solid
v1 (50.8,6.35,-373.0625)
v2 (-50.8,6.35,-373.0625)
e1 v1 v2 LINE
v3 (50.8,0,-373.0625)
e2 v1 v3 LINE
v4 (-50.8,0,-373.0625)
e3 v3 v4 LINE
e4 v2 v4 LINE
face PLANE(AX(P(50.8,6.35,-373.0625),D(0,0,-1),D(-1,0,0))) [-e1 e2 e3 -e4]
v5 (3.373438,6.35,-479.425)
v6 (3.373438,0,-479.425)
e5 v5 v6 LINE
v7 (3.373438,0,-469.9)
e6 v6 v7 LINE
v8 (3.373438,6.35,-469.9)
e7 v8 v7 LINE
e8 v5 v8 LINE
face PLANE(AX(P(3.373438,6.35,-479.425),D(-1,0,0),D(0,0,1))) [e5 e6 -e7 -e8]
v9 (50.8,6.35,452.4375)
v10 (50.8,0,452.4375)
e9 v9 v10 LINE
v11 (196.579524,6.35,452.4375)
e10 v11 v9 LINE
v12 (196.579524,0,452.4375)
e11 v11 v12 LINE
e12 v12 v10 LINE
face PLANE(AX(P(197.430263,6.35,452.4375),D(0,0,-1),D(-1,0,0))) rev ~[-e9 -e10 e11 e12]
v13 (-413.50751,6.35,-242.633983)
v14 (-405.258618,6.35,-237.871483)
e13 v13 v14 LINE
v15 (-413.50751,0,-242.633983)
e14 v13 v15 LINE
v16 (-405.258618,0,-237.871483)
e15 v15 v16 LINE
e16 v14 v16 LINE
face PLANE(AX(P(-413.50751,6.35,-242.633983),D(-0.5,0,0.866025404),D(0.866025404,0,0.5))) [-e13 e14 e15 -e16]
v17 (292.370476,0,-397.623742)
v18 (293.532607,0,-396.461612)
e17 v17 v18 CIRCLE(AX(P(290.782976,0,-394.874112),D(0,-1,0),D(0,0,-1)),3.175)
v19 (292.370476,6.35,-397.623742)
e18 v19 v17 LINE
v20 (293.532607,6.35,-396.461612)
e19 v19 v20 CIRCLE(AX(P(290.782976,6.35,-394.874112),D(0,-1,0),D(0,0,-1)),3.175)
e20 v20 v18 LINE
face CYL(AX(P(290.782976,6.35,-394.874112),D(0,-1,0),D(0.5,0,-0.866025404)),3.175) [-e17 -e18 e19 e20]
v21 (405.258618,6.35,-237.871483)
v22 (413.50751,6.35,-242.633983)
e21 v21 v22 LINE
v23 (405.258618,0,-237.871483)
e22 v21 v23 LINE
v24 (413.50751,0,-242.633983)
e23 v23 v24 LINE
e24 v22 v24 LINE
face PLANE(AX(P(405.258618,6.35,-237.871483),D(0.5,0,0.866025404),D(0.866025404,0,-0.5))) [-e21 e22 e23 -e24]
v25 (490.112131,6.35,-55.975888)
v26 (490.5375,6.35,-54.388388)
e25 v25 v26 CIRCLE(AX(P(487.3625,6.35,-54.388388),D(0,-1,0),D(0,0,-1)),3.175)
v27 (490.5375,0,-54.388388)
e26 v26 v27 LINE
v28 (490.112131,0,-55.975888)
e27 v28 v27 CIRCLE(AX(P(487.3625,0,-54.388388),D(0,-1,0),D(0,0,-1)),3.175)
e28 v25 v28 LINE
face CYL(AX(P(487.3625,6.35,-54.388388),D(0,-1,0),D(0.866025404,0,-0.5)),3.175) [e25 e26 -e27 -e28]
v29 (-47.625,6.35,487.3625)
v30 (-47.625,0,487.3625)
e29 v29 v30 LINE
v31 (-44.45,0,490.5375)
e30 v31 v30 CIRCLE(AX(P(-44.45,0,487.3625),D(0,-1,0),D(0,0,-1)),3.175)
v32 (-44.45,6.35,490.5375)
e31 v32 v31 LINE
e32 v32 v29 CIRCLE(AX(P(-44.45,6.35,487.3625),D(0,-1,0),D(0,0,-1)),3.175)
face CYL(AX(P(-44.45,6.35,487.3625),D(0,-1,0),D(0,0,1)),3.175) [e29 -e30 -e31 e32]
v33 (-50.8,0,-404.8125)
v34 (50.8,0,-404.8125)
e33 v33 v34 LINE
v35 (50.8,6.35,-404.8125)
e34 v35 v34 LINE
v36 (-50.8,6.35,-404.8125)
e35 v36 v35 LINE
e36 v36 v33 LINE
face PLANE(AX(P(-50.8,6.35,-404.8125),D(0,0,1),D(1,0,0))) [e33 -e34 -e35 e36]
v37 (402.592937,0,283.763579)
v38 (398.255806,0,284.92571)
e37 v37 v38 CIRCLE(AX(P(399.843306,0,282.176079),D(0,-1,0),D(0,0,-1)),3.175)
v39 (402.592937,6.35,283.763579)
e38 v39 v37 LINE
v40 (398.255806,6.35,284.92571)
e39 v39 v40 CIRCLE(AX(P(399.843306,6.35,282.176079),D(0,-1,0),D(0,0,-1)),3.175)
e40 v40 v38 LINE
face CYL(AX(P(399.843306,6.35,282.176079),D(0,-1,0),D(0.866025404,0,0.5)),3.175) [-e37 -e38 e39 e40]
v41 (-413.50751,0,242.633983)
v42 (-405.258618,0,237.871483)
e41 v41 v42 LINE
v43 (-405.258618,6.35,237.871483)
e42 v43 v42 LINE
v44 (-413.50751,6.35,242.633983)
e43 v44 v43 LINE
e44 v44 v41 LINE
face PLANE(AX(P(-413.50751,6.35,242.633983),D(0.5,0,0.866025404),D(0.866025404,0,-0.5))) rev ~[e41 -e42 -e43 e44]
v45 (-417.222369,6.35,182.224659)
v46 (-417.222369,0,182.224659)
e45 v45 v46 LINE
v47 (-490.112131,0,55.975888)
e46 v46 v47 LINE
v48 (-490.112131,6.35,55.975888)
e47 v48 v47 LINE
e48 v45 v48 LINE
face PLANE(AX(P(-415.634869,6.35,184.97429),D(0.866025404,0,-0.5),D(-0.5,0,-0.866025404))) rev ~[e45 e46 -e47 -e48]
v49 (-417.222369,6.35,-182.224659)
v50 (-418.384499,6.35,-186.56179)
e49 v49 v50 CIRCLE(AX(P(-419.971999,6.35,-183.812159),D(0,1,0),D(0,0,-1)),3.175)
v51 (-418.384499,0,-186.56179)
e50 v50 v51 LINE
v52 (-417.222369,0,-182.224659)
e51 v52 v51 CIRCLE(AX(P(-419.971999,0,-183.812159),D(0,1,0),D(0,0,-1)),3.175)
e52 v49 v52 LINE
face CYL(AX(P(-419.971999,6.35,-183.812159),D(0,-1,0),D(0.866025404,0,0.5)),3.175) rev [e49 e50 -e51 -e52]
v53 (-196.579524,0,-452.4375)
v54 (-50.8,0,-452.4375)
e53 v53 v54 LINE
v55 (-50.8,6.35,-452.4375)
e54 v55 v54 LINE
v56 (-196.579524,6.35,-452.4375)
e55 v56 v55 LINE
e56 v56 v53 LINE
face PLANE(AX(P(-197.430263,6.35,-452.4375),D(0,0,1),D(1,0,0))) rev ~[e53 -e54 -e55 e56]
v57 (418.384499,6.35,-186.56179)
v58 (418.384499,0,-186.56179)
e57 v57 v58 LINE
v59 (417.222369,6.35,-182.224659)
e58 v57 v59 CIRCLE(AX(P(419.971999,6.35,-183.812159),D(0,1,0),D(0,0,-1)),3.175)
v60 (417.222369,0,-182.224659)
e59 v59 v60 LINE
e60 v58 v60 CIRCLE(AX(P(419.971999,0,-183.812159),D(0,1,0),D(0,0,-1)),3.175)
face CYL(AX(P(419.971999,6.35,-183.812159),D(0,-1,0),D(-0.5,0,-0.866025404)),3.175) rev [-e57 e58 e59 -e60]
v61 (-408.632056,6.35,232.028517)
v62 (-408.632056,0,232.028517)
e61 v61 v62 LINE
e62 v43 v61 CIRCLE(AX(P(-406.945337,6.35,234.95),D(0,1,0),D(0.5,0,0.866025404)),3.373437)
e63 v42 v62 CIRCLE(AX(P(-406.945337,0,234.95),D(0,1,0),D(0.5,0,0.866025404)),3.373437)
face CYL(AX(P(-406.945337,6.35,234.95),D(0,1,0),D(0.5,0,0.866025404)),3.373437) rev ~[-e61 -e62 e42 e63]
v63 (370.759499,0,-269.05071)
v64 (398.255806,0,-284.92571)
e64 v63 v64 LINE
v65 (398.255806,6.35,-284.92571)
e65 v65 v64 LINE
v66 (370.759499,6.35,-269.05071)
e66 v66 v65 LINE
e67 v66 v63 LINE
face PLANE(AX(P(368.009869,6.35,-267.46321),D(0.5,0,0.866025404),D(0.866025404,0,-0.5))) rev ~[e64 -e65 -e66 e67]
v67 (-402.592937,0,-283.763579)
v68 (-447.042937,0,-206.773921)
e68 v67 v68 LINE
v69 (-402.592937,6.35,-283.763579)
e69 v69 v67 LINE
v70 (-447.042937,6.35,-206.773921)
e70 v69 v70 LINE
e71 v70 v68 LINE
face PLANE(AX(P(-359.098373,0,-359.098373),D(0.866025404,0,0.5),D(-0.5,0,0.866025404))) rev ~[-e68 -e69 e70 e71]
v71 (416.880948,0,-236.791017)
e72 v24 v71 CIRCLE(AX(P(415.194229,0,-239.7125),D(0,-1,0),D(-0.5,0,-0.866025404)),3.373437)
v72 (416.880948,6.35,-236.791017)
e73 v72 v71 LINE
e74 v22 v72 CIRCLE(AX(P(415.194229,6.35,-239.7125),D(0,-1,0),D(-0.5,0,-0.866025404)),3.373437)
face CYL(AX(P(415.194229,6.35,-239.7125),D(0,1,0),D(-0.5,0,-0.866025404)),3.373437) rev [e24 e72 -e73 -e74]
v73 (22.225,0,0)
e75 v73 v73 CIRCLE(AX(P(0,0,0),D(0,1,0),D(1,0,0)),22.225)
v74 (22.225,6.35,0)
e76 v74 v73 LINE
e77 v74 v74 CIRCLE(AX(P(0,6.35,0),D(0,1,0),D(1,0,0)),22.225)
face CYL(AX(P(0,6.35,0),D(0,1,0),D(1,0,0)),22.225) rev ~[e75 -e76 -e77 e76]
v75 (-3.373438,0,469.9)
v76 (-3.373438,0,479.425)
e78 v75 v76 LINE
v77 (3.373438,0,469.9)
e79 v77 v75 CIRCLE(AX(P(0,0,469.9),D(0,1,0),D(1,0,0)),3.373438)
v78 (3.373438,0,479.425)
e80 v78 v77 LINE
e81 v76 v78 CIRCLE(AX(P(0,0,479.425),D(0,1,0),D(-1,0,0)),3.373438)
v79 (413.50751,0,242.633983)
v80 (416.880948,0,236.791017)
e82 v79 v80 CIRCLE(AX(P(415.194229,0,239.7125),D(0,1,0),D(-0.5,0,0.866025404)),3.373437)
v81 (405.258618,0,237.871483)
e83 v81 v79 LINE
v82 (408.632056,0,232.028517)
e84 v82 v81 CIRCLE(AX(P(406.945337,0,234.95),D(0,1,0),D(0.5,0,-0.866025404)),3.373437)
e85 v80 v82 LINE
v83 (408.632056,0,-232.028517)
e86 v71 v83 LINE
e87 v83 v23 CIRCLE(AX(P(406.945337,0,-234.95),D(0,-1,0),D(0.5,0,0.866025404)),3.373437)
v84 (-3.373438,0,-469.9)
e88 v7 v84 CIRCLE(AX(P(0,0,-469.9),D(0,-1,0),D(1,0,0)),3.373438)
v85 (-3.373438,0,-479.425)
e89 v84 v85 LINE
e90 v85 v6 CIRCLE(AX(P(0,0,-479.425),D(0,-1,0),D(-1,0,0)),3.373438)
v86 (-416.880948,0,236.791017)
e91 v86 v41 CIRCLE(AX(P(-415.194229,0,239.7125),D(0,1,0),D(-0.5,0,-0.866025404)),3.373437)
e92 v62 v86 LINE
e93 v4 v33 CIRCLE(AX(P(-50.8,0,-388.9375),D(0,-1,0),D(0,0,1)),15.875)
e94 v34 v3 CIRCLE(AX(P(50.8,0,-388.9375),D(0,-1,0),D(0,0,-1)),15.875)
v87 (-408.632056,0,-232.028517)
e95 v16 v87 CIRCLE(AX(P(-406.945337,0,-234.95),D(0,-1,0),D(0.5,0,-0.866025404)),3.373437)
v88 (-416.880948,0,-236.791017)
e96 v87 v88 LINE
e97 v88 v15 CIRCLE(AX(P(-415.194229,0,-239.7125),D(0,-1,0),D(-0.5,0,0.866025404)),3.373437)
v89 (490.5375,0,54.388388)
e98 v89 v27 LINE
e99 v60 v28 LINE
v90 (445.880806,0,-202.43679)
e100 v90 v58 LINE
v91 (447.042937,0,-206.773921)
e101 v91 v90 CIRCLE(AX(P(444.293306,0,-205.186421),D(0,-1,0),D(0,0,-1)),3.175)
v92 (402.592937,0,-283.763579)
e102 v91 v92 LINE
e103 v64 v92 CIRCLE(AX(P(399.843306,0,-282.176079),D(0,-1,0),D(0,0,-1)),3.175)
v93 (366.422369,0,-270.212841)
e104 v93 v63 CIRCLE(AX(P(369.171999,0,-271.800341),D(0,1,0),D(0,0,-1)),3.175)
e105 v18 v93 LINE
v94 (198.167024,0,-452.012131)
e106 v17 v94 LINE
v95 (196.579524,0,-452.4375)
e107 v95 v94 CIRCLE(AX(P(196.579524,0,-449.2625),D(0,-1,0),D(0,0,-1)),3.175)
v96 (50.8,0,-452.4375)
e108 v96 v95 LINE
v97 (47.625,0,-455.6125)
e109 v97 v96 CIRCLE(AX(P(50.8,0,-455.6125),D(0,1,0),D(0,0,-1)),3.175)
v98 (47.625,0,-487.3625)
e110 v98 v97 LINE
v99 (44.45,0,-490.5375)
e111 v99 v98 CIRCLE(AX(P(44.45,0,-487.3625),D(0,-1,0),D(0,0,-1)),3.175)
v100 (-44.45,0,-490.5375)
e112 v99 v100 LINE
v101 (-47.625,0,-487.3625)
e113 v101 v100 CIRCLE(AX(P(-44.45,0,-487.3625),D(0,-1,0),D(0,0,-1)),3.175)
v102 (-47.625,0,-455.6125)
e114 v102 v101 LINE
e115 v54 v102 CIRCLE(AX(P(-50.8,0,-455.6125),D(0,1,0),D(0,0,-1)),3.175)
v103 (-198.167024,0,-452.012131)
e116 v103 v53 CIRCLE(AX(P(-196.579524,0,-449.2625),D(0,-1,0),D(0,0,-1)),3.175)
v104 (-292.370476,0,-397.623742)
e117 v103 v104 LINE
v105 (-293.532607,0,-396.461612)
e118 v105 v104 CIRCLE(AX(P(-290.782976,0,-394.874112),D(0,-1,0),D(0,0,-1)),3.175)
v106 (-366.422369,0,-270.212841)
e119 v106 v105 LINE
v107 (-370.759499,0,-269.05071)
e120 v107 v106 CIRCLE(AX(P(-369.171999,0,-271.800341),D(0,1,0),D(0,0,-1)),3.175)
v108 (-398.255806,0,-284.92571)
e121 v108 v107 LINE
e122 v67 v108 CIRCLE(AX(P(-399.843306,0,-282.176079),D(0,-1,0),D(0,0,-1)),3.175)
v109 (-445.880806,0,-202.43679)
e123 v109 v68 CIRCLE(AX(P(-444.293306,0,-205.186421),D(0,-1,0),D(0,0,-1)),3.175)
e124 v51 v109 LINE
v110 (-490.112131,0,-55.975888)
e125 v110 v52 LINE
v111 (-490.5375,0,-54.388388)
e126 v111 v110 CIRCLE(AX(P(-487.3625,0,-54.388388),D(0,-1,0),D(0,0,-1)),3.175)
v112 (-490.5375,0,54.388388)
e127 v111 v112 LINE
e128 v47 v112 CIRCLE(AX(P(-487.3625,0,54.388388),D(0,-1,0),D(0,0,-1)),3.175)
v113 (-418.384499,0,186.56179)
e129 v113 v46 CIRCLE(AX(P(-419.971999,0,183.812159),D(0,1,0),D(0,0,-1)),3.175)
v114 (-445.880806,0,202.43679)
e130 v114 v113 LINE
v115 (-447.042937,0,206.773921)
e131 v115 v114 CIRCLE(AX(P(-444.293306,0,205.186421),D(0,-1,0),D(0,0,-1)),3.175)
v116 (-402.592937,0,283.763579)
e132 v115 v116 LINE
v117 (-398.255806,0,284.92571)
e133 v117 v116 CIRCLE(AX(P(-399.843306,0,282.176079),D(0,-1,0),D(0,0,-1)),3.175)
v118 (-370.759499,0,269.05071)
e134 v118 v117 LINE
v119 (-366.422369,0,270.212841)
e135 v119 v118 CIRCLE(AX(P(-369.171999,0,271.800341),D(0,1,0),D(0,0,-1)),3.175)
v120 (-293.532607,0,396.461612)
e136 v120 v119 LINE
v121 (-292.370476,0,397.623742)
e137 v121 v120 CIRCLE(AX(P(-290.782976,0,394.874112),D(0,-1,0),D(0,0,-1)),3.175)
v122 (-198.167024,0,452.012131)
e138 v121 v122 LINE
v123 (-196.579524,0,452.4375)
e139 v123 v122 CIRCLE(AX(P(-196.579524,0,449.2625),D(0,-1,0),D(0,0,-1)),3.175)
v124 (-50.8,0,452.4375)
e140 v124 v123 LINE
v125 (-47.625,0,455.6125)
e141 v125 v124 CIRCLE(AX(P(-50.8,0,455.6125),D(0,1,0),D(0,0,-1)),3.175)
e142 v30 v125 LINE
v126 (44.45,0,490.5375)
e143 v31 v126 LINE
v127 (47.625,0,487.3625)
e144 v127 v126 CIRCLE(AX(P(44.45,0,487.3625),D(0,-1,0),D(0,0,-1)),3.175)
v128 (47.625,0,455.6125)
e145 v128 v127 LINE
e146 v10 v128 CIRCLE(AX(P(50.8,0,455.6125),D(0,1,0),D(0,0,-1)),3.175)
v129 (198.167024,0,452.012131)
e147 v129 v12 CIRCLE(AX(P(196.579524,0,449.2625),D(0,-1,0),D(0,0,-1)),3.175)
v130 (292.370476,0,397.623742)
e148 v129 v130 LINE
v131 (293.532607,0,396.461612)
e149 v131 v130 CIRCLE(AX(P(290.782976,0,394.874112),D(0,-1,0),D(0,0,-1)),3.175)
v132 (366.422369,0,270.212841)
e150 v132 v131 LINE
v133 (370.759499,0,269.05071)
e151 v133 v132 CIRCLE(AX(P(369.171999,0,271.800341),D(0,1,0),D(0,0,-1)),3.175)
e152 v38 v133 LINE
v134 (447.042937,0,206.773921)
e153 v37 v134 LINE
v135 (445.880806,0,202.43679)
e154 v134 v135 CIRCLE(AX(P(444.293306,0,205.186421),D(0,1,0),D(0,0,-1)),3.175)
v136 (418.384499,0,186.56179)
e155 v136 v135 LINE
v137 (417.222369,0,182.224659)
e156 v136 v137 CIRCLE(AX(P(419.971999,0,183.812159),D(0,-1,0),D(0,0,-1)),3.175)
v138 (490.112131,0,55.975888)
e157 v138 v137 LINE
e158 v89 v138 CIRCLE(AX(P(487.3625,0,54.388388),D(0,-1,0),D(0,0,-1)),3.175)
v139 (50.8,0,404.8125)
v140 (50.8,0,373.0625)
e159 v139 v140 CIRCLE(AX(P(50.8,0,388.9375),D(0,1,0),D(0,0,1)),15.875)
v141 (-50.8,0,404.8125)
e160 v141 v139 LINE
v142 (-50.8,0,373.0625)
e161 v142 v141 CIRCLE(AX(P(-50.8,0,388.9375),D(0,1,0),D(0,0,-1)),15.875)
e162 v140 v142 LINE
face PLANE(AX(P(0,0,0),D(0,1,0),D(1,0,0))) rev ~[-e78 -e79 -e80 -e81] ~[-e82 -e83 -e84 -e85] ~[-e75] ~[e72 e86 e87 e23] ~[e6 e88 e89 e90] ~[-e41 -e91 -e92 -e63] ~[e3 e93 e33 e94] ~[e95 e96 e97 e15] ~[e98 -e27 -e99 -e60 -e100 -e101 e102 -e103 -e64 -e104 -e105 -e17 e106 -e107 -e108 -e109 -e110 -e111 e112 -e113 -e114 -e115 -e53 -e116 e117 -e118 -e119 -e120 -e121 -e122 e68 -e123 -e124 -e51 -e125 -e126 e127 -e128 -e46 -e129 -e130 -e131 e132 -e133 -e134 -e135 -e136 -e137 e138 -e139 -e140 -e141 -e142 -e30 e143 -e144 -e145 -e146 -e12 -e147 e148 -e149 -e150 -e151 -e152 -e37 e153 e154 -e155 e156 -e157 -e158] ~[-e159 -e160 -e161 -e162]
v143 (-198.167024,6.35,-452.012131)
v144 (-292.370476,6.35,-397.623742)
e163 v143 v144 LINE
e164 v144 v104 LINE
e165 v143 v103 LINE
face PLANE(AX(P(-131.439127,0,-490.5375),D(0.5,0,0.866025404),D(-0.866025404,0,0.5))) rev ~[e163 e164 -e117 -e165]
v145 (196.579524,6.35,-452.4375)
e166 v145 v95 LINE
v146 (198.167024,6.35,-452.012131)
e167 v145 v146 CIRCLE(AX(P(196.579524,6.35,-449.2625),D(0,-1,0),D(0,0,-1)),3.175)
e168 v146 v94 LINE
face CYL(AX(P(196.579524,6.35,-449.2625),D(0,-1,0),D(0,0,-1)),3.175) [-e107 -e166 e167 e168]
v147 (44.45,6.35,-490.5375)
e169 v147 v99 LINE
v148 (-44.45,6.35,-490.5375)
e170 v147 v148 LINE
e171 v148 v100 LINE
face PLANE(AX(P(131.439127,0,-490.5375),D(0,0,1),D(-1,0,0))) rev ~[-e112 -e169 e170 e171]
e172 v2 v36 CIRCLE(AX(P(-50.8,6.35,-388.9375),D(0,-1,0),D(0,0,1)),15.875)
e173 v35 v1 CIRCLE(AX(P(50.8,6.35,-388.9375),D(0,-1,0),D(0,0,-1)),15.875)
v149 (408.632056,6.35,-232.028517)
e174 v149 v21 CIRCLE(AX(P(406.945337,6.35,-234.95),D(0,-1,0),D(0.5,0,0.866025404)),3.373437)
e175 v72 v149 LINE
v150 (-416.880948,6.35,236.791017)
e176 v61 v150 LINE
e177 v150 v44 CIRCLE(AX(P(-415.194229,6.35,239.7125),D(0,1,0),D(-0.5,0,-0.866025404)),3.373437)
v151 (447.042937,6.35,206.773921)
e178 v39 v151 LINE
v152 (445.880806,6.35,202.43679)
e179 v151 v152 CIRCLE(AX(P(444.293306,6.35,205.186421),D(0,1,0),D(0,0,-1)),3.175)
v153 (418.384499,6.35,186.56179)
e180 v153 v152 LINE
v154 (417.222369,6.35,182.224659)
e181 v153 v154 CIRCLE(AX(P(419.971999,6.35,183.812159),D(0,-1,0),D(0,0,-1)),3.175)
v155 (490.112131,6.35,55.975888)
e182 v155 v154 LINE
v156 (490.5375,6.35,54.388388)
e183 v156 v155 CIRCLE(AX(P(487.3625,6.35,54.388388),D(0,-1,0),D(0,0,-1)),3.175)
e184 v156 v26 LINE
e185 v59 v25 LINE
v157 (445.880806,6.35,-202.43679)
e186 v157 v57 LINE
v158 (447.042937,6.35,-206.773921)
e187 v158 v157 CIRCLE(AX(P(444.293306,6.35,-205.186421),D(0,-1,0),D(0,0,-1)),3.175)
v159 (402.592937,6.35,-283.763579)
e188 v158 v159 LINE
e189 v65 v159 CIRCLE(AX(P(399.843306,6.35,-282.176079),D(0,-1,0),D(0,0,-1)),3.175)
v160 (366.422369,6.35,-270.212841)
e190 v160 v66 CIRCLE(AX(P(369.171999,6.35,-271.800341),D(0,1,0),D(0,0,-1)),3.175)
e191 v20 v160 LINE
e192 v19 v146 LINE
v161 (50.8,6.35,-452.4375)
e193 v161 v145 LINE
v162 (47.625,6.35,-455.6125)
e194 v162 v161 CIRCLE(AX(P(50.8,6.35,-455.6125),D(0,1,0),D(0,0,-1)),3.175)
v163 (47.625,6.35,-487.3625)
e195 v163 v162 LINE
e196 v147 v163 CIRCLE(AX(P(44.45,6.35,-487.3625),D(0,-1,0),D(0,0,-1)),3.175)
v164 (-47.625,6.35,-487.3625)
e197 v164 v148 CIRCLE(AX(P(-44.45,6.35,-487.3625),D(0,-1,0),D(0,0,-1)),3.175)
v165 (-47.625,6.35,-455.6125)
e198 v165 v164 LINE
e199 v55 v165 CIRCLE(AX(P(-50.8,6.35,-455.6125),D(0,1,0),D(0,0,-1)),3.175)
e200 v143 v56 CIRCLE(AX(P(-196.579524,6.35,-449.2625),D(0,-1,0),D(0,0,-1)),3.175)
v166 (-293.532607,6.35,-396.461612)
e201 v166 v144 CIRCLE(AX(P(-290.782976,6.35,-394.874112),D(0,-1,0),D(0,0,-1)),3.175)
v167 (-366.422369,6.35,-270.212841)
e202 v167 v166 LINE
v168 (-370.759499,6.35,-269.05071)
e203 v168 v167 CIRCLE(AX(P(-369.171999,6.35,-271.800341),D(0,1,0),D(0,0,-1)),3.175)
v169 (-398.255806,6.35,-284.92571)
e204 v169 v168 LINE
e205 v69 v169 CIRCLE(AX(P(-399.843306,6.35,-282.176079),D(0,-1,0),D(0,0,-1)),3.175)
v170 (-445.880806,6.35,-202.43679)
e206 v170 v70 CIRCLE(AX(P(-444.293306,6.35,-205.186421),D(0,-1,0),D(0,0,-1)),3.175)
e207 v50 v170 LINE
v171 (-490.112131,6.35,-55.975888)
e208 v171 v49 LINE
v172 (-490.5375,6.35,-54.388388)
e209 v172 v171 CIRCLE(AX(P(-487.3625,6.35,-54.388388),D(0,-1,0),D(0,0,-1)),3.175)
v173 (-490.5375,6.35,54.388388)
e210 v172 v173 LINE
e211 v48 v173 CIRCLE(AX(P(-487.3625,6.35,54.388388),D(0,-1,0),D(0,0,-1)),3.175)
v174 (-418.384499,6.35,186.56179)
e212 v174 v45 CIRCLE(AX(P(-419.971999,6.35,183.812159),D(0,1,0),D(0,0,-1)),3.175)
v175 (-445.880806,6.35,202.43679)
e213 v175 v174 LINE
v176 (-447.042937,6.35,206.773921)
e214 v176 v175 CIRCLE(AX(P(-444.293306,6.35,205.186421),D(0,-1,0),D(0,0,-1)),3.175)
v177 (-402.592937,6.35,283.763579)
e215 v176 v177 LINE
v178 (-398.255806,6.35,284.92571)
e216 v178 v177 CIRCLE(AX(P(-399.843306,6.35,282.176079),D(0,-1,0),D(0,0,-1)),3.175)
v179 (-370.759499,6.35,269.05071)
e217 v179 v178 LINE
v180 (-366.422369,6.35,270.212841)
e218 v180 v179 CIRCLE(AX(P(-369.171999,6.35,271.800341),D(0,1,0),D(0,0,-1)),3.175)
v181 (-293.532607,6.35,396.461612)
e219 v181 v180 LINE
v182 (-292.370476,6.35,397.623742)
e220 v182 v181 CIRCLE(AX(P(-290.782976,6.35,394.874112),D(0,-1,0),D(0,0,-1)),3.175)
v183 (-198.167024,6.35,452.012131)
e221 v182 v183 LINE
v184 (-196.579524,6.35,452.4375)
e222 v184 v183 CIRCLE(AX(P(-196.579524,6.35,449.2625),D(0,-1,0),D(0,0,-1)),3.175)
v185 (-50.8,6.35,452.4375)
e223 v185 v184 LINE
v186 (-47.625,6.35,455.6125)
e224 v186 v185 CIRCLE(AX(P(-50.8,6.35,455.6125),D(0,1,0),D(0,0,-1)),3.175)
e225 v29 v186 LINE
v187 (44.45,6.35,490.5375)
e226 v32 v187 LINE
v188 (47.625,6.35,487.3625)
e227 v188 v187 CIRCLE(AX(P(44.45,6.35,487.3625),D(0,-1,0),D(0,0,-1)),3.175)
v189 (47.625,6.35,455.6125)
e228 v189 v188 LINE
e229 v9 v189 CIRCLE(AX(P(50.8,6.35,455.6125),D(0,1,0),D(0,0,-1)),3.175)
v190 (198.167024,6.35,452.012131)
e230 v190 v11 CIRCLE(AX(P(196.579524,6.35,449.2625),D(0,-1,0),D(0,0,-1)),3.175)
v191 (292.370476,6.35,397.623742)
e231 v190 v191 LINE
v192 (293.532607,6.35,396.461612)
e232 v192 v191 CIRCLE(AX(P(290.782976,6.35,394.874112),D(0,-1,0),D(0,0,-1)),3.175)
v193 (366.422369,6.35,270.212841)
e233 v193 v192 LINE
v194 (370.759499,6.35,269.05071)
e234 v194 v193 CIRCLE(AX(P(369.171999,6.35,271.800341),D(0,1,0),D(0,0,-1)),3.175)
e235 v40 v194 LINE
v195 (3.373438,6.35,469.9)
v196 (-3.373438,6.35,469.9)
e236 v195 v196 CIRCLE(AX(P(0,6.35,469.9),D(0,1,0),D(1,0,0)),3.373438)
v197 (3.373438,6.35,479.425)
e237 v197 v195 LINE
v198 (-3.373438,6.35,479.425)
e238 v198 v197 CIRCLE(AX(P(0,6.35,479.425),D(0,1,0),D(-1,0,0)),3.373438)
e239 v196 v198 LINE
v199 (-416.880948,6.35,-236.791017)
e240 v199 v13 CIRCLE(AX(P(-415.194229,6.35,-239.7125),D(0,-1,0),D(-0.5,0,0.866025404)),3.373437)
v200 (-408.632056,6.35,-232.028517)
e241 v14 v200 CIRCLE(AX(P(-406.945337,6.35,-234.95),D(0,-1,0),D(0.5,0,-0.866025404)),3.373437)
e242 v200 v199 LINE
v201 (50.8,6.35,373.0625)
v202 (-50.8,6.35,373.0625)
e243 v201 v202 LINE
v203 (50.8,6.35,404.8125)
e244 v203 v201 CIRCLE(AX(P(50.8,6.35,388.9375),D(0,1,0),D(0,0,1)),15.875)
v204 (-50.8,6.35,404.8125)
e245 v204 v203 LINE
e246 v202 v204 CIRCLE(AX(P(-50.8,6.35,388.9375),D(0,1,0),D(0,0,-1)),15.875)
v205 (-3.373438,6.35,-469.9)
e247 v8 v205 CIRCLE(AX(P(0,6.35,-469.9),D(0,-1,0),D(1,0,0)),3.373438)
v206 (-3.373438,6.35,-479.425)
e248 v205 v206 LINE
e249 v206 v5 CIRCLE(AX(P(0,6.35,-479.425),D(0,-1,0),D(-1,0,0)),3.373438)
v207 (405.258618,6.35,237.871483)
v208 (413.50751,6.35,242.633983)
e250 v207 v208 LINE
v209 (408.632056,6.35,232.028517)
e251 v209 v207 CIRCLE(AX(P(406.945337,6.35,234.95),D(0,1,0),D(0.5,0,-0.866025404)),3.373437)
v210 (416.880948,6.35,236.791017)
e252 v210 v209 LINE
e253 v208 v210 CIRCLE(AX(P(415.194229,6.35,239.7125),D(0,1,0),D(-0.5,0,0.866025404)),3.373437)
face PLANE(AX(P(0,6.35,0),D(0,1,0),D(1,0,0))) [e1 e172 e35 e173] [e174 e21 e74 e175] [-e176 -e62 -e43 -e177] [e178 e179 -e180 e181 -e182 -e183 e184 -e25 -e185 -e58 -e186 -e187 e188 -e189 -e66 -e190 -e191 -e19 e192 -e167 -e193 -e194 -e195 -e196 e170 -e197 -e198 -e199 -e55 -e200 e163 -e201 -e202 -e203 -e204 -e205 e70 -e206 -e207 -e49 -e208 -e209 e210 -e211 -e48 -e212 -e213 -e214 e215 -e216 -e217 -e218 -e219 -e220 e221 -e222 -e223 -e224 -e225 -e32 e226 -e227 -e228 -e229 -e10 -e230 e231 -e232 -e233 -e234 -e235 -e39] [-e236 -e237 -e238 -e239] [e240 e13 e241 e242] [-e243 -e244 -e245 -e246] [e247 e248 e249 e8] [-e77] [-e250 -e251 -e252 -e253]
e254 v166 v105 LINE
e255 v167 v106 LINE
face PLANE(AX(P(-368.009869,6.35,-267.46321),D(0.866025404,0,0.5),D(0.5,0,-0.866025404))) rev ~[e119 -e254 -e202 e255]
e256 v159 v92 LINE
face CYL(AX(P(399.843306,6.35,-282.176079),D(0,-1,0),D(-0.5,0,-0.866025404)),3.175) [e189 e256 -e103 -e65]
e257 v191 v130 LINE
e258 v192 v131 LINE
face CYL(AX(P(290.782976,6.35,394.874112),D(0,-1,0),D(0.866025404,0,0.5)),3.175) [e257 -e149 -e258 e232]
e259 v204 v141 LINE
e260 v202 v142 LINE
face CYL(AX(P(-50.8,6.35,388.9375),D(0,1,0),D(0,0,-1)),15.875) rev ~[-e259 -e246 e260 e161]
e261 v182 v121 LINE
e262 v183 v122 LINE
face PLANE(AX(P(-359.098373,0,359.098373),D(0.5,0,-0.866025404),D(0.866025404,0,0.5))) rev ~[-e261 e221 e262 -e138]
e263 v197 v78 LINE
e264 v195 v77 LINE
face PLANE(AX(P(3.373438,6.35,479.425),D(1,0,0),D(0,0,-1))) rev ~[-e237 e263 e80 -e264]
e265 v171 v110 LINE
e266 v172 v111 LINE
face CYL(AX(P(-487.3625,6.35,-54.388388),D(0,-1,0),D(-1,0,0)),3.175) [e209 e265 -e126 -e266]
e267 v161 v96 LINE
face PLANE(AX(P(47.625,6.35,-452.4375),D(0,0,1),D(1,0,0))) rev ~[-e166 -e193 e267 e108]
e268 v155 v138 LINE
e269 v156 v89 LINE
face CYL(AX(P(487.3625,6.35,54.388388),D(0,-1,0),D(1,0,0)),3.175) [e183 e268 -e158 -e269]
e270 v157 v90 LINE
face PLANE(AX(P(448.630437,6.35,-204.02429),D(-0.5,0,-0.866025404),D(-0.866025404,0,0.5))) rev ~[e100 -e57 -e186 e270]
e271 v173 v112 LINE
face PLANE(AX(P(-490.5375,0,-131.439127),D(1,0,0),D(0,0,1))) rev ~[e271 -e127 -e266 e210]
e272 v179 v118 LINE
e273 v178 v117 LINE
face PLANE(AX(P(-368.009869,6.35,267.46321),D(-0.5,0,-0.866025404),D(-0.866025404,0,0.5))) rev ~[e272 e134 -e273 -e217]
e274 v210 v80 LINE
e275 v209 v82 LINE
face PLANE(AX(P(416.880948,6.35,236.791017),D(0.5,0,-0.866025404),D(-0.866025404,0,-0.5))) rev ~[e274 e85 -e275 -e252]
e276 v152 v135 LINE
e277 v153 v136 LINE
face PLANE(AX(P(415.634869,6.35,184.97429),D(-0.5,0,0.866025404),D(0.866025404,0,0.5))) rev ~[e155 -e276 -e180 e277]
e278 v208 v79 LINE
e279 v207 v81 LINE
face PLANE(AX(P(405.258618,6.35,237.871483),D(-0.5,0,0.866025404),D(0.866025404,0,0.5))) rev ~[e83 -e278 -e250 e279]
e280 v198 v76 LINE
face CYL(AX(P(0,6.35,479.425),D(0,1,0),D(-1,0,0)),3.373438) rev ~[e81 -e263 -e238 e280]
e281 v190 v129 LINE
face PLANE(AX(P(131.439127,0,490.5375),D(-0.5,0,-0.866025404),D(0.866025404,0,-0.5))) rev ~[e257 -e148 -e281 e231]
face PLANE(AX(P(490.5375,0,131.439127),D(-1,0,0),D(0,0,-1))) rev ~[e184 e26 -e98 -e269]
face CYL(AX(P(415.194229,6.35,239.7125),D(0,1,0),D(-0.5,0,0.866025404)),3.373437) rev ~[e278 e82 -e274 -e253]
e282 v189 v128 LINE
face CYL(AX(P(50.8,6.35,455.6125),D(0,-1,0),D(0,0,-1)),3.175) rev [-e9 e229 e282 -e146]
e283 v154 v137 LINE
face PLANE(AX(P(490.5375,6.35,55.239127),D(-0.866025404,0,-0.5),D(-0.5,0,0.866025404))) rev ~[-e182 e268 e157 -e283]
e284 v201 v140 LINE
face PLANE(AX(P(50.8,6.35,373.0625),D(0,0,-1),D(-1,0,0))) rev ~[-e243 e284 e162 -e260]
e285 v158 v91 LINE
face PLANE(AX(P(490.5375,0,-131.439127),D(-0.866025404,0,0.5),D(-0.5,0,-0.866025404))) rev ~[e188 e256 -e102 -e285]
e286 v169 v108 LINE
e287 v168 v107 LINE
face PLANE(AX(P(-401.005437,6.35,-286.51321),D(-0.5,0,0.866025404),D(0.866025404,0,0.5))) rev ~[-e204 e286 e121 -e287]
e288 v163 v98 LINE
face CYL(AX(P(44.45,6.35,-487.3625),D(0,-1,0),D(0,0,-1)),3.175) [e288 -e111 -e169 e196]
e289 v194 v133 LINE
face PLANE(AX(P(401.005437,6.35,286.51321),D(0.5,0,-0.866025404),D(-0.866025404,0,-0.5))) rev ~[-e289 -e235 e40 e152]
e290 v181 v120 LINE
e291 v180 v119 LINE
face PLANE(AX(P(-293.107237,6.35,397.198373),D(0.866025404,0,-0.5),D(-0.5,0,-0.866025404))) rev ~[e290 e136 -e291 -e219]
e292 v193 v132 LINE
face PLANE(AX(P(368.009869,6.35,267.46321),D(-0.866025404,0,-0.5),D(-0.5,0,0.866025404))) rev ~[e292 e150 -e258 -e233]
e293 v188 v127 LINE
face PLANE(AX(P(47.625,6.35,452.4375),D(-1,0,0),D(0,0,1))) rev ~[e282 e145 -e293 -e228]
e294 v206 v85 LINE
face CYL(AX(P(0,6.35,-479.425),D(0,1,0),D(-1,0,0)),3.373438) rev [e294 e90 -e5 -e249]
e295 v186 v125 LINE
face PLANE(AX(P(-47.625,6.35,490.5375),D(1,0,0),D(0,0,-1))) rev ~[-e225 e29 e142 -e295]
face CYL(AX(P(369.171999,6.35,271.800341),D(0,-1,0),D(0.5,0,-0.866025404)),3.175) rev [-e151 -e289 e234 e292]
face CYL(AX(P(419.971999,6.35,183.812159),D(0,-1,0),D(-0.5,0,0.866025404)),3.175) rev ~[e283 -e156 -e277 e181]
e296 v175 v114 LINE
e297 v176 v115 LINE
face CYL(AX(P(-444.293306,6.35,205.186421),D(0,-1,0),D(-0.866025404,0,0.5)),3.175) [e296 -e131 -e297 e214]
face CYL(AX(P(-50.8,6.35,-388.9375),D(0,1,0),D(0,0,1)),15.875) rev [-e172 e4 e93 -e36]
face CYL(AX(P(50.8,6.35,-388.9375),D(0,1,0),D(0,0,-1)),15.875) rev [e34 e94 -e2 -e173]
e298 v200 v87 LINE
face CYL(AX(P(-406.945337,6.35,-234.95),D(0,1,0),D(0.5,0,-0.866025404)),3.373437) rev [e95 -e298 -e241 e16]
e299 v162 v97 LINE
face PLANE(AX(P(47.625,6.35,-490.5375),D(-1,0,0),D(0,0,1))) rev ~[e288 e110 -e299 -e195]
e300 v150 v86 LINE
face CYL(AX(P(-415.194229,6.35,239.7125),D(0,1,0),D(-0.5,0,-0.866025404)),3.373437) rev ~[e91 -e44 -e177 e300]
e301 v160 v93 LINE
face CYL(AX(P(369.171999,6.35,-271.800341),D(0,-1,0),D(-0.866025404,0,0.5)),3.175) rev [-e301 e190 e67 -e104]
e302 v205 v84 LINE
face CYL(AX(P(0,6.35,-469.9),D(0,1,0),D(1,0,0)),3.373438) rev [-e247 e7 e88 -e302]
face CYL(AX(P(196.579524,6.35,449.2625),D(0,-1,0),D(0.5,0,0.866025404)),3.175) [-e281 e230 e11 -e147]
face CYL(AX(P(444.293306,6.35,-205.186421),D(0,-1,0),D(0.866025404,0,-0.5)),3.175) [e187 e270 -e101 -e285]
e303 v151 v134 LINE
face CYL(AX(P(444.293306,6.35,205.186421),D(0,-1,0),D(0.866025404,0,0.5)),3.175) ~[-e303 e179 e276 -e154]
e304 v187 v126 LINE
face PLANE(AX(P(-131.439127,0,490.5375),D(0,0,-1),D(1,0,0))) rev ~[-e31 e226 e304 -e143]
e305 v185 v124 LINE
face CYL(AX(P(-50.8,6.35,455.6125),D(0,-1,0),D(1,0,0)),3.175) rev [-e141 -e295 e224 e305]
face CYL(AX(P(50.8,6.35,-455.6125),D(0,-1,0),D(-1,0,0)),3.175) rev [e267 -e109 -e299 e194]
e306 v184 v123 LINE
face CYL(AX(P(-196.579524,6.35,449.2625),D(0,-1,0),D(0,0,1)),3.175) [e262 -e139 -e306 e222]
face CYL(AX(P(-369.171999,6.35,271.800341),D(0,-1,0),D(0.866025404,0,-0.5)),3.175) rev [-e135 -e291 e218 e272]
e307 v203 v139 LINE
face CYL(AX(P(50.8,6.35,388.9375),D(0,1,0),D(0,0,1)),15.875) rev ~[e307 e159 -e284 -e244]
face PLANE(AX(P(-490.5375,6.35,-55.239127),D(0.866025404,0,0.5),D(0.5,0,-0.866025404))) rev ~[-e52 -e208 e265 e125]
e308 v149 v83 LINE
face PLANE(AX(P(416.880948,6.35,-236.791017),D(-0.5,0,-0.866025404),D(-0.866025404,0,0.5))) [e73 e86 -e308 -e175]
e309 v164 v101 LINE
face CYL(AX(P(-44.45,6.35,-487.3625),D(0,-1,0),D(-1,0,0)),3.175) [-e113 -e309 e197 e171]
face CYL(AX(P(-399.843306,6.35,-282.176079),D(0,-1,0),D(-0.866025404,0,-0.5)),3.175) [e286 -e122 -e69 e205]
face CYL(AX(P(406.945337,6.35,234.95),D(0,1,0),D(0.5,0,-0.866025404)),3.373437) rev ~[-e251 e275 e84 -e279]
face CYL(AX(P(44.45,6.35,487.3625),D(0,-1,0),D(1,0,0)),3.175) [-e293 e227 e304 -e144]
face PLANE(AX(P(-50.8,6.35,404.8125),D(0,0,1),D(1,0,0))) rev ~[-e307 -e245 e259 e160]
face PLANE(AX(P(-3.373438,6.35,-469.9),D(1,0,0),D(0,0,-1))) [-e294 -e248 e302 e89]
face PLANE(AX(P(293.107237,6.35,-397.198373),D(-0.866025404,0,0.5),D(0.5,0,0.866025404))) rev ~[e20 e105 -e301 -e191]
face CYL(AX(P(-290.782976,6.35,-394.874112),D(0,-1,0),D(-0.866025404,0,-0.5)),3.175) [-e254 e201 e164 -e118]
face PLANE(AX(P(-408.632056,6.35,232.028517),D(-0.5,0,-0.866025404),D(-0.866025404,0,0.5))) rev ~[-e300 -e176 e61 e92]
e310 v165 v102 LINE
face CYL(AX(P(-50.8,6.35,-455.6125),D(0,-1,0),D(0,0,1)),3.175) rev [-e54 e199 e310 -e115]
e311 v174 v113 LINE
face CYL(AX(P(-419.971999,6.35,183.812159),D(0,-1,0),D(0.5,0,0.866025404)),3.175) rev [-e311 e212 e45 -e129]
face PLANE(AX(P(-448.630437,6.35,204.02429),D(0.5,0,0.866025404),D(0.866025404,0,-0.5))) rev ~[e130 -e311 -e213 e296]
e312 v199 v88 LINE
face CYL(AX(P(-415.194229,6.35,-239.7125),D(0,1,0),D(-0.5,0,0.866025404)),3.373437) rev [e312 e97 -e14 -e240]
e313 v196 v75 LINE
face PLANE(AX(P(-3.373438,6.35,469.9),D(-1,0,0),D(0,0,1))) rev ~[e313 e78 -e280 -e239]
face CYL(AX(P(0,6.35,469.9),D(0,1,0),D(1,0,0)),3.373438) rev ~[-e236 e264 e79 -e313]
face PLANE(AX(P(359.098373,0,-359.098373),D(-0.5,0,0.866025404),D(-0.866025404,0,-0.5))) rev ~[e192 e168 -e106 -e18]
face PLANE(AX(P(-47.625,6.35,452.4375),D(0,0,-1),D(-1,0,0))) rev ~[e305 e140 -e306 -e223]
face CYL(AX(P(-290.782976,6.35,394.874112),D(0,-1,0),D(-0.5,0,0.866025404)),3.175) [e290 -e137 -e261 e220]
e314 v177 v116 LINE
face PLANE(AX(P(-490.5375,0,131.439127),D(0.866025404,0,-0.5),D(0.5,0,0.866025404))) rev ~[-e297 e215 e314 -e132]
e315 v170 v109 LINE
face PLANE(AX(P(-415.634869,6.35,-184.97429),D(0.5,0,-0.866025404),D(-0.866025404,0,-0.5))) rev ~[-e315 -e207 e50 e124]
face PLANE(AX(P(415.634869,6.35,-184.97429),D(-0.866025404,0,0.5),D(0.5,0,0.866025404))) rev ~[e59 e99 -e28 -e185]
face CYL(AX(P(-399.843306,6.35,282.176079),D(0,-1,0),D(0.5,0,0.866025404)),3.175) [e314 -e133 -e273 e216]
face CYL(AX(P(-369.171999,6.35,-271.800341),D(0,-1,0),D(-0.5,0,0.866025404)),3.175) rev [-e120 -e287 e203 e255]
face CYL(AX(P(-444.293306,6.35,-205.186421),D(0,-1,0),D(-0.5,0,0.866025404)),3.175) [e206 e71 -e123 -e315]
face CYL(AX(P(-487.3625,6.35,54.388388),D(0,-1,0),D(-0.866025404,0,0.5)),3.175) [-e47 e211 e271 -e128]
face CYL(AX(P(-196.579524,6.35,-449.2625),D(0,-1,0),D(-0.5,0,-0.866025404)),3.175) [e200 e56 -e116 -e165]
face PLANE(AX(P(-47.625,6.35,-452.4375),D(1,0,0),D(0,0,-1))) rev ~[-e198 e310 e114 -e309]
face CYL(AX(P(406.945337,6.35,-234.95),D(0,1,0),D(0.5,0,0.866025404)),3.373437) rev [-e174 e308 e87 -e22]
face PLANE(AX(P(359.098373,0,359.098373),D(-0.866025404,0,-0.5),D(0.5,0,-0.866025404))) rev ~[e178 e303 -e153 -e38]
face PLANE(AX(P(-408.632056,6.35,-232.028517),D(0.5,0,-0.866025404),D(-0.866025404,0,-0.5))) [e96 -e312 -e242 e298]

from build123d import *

# Parameters (mm, degrees)
BOSS_EXTRUDE1_DEPTH = 6.35
SKETCH2_R           = 22.225
CUT_EXTRUDE1_DEPTH  = 6.35
FILLET2_R           = 3.175


with BuildPart() as part:
    # Sketch1 → Boss-Extrude1 (new body)
    with BuildSketch(Plane(origin=(0, 0, 0), x_dir=(1, 0, 0), z_dir=(0, 1, 0))):
        Polygon((359.098373018, -359.098373018), (490.5375, -131.439126982), (490.5375, 131.439126982), (359.098373018, 359.098373018), (131.439126982, 490.5375), (-131.439126982, 490.5375), (-359.098373018, 359.098373018), (-490.5375, 131.439126982), (-490.5375, -131.439126982), (-359.098373018, -359.098373018), (-131.439126982, -490.5375), (131.439126982, -490.5375), align=None)
    extrude(amount=BOSS_EXTRUDE1_DEPTH)

    # Sketch2 → Cut-Extrude1 (cut)
    with BuildSketch(Plane(origin=(0, 6.35, 0), x_dir=(1, 0, 0), z_dir=(0, 1, 0))):
        Circle(SKETCH2_R)
        Polygon((-131.439126982, 490.5375), (-197.430262751, 452.4375), (-47.625, 452.4375), (-47.625, 490.5375), align=None)
        Polygon((131.439126982, 490.5375), (47.625, 490.5375), (47.625, 452.4375), (197.430262751, 452.4375), align=None)
        with BuildLine():
            Line((3.3734375, 479.425), (3.3734375, 469.9))
            ThreePointArc((3.3734375, 469.9), (0, 466.5265625), (-3.3734375, 469.9))
            Line((-3.3734375, 469.9), (-3.3734375, 479.425))
            ThreePointArc((-3.3734375, 479.425), (0, 482.7984375), (3.3734375, 479.425))
        make_face()
        with BuildLine():
            Line((-50.8, 404.8125), (50.8, 404.8125))
            ThreePointArc((50.8, 404.8125), (66.675, 388.9375), (50.8, 373.0625))
            Line((50.8, 373.0625), (-50.8, 373.0625))
            ThreePointArc((-50.8, 373.0625), (-66.675, 388.9375), (-50.8, 404.8125))
        make_face()
        Polygon((401.005436509, 286.513209855), (359.098373018, 359.098373018), (293.107237249, 397.198373018), (368.009868625, 267.463209855), align=None)
        Polygon((490.5375, 55.239126982), (490.5375, 131.439126982), (448.630436509, 204.024290145), (415.634868625, 184.974290145), align=None)
        Polygon((448.630436509, -204.024290145), (490.5375, -131.439126982), (490.5375, -55.239126982), (415.634868625, -184.974290145), align=None)
        Polygon((293.107237249, -397.198373018), (359.098373018, -359.098373018), (401.005436509, -286.513209855), (368.009868625, -267.463209855), align=None)
        Polygon((47.625, -490.5375), (131.439126982, -490.5375), (197.430262751, -452.4375), (47.625, -452.4375), align=None)
        Polygon((-197.430262751, -452.4375), (-131.439126982, -490.5375), (-47.625, -490.5375), (-47.625, -452.4375), align=None)
        Polygon((-401.005436509, -286.513209855), (-359.098373018, -359.098373018), (-293.107237249, -397.198373018), (-368.009868625, -267.463209855), align=None)
        Polygon((-490.5375, -55.239126982), (-490.5375, -131.439126982), (-448.630436509, -204.024290145), (-415.634868625, -184.974290145), align=None)
        Polygon((-448.630436509, 204.024290145), (-490.5375, 131.439126982), (-490.5375, 55.239126982), (-415.634868625, 184.974290145), align=None)
        Polygon((-293.107237249, 397.198373018), (-359.098373018, 359.098373018), (-401.005436509, 286.513209855), (-368.009868625, 267.463209855), align=None)
        with BuildLine():
            Line((-413.507510459, 242.633982573), (-405.258618488, 237.871482573))
            ThreePointArc((-405.258618488, 237.871482573), (-404.023854665, 233.26328125), (-408.632055988, 232.028517427))
            Line((-408.632055988, 232.028517427), (-416.880947959, 236.791017427))
            ThreePointArc((-416.880947959, 236.791017427), (-418.115711782, 241.39921875), (-413.507510459, 242.633982573))
        make_face()
        with BuildLine():
            Line((416.880947959, 236.791017427), (408.632055988, 232.028517427))
            ThreePointArc((408.632055988, 232.028517427), (404.023854665, 233.26328125), (405.258618488, 237.871482573))
            Line((405.258618488, 237.871482573), (413.507510459, 242.633982573))
            ThreePointArc((413.507510459, 242.633982573), (418.115711782, 241.39921875), (416.880947959, 236.791017427))
        make_face()
        with BuildLine():
            Line((416.880947959, -236.791017427), (408.632055988, -232.028517427))
            ThreePointArc((408.632055988, -232.028517427), (404.023854665, -233.26328125), (405.258618488, -237.871482573))
            Line((405.258618488, -237.871482573), (413.507510459, -242.633982573))
            ThreePointArc((413.507510459, -242.633982573), (418.115711782, -241.39921875), (416.880947959, -236.791017427))
        make_face()
        with BuildLine():
            Line((-50.8, -404.8125), (50.8, -404.8125))
            ThreePointArc((50.8, -404.8125), (66.675, -388.9375), (50.8, -373.0625))
            Line((50.8, -373.0625), (-50.8, -373.0625))
            ThreePointArc((-50.8, -373.0625), (-66.675, -388.9375), (-50.8, -404.8125))
        make_face()
        with BuildLine():
            Line((3.3734375, -479.425), (3.3734375, -469.9))
            ThreePointArc((3.3734375, -469.9), (0, -466.5265625), (-3.3734375, -469.9))
            Line((-3.3734375, -469.9), (-3.3734375, -479.425))
            ThreePointArc((-3.3734375, -479.425), (0, -482.7984375), (3.3734375, -479.425))
        make_face()
        with BuildLine():
            Line((-413.507510459, -242.633982573), (-405.258618488, -237.871482573))
            ThreePointArc((-405.258618488, -237.871482573), (-404.023854665, -233.26328125), (-408.632055988, -232.028517427))
            Line((-408.632055988, -232.028517427), (-416.880947959, -236.791017427))
            ThreePointArc((-416.880947959, -236.791017427), (-418.115711782, -241.39921875), (-413.507510459, -242.633982573))
        make_face()
    extrude(amount=-CUT_EXTRUDE1_DEPTH, mode=Mode.SUBTRACT)

    # Fillet2
    fillet2_edges = [part.edges().sort_by_distance(p)[0] for p in [
        (-47.625, 3.175, 490.5375),
        (-197.430262751, 3.175, 452.4375),
        (-47.625, 3.175, 452.4375),
        (-293.107237249, 3.175, 397.198373018),
        (-401.005436509, 3.175, 286.513209855),
        (-368.009868625, 3.175, 267.463209855),
        (-448.630436509, 3.175, 204.024290145),
        (-490.5375, 3.175, 55.239126982),
        (-415.634868625, 3.175, 184.974290145),
        (-490.5375, 3.175, -55.239126982),
        (-448.630436509, 3.175, -204.024290145),
        (-415.634868625, 3.175, -184.974290145),
        (-401.005436509, 3.175, -286.513209855),
        (-293.107237249, 3.175, -397.198373018),
        (-368.009868625, 3.175, -267.463209855),
        (197.430262751, 3.175, 452.4375),
        (47.625, 3.175, 490.5375),
        (47.625, 3.175, 452.4375),
        (401.005436509, 3.175, 286.513209855),
        (293.107237249, 3.175, 397.198373018),
        (368.009868625, 3.175, 267.463209855),
        (490.5375, 3.175, 55.239126982),
        (448.630436509, 3.175, 204.024290145),
        (415.634868625, 3.175, 184.974290145),
        (448.630436509, 3.175, -204.024290145),
        (490.5375, 3.175, -55.239126982),
        (415.634868625, 3.175, -184.974290145),
        (293.107237249, 3.175, -397.198373018),
        (401.005436509, 3.175, -286.513209855),
        (368.009868625, 3.175, -267.463209855),
        (197.430262751, 3.175, -452.4375),
        (47.625, 3.175, -452.4375),
        (47.625, 3.175, -490.5375),
        (-47.625, 3.175, -490.5375),
        (-47.625, 3.175, -452.4375),
        (-197.430262751, 3.175, -452.4375),
    ]]
    fillet(fillet2_edges, radius=FILLET2_R)


solid = part.part
